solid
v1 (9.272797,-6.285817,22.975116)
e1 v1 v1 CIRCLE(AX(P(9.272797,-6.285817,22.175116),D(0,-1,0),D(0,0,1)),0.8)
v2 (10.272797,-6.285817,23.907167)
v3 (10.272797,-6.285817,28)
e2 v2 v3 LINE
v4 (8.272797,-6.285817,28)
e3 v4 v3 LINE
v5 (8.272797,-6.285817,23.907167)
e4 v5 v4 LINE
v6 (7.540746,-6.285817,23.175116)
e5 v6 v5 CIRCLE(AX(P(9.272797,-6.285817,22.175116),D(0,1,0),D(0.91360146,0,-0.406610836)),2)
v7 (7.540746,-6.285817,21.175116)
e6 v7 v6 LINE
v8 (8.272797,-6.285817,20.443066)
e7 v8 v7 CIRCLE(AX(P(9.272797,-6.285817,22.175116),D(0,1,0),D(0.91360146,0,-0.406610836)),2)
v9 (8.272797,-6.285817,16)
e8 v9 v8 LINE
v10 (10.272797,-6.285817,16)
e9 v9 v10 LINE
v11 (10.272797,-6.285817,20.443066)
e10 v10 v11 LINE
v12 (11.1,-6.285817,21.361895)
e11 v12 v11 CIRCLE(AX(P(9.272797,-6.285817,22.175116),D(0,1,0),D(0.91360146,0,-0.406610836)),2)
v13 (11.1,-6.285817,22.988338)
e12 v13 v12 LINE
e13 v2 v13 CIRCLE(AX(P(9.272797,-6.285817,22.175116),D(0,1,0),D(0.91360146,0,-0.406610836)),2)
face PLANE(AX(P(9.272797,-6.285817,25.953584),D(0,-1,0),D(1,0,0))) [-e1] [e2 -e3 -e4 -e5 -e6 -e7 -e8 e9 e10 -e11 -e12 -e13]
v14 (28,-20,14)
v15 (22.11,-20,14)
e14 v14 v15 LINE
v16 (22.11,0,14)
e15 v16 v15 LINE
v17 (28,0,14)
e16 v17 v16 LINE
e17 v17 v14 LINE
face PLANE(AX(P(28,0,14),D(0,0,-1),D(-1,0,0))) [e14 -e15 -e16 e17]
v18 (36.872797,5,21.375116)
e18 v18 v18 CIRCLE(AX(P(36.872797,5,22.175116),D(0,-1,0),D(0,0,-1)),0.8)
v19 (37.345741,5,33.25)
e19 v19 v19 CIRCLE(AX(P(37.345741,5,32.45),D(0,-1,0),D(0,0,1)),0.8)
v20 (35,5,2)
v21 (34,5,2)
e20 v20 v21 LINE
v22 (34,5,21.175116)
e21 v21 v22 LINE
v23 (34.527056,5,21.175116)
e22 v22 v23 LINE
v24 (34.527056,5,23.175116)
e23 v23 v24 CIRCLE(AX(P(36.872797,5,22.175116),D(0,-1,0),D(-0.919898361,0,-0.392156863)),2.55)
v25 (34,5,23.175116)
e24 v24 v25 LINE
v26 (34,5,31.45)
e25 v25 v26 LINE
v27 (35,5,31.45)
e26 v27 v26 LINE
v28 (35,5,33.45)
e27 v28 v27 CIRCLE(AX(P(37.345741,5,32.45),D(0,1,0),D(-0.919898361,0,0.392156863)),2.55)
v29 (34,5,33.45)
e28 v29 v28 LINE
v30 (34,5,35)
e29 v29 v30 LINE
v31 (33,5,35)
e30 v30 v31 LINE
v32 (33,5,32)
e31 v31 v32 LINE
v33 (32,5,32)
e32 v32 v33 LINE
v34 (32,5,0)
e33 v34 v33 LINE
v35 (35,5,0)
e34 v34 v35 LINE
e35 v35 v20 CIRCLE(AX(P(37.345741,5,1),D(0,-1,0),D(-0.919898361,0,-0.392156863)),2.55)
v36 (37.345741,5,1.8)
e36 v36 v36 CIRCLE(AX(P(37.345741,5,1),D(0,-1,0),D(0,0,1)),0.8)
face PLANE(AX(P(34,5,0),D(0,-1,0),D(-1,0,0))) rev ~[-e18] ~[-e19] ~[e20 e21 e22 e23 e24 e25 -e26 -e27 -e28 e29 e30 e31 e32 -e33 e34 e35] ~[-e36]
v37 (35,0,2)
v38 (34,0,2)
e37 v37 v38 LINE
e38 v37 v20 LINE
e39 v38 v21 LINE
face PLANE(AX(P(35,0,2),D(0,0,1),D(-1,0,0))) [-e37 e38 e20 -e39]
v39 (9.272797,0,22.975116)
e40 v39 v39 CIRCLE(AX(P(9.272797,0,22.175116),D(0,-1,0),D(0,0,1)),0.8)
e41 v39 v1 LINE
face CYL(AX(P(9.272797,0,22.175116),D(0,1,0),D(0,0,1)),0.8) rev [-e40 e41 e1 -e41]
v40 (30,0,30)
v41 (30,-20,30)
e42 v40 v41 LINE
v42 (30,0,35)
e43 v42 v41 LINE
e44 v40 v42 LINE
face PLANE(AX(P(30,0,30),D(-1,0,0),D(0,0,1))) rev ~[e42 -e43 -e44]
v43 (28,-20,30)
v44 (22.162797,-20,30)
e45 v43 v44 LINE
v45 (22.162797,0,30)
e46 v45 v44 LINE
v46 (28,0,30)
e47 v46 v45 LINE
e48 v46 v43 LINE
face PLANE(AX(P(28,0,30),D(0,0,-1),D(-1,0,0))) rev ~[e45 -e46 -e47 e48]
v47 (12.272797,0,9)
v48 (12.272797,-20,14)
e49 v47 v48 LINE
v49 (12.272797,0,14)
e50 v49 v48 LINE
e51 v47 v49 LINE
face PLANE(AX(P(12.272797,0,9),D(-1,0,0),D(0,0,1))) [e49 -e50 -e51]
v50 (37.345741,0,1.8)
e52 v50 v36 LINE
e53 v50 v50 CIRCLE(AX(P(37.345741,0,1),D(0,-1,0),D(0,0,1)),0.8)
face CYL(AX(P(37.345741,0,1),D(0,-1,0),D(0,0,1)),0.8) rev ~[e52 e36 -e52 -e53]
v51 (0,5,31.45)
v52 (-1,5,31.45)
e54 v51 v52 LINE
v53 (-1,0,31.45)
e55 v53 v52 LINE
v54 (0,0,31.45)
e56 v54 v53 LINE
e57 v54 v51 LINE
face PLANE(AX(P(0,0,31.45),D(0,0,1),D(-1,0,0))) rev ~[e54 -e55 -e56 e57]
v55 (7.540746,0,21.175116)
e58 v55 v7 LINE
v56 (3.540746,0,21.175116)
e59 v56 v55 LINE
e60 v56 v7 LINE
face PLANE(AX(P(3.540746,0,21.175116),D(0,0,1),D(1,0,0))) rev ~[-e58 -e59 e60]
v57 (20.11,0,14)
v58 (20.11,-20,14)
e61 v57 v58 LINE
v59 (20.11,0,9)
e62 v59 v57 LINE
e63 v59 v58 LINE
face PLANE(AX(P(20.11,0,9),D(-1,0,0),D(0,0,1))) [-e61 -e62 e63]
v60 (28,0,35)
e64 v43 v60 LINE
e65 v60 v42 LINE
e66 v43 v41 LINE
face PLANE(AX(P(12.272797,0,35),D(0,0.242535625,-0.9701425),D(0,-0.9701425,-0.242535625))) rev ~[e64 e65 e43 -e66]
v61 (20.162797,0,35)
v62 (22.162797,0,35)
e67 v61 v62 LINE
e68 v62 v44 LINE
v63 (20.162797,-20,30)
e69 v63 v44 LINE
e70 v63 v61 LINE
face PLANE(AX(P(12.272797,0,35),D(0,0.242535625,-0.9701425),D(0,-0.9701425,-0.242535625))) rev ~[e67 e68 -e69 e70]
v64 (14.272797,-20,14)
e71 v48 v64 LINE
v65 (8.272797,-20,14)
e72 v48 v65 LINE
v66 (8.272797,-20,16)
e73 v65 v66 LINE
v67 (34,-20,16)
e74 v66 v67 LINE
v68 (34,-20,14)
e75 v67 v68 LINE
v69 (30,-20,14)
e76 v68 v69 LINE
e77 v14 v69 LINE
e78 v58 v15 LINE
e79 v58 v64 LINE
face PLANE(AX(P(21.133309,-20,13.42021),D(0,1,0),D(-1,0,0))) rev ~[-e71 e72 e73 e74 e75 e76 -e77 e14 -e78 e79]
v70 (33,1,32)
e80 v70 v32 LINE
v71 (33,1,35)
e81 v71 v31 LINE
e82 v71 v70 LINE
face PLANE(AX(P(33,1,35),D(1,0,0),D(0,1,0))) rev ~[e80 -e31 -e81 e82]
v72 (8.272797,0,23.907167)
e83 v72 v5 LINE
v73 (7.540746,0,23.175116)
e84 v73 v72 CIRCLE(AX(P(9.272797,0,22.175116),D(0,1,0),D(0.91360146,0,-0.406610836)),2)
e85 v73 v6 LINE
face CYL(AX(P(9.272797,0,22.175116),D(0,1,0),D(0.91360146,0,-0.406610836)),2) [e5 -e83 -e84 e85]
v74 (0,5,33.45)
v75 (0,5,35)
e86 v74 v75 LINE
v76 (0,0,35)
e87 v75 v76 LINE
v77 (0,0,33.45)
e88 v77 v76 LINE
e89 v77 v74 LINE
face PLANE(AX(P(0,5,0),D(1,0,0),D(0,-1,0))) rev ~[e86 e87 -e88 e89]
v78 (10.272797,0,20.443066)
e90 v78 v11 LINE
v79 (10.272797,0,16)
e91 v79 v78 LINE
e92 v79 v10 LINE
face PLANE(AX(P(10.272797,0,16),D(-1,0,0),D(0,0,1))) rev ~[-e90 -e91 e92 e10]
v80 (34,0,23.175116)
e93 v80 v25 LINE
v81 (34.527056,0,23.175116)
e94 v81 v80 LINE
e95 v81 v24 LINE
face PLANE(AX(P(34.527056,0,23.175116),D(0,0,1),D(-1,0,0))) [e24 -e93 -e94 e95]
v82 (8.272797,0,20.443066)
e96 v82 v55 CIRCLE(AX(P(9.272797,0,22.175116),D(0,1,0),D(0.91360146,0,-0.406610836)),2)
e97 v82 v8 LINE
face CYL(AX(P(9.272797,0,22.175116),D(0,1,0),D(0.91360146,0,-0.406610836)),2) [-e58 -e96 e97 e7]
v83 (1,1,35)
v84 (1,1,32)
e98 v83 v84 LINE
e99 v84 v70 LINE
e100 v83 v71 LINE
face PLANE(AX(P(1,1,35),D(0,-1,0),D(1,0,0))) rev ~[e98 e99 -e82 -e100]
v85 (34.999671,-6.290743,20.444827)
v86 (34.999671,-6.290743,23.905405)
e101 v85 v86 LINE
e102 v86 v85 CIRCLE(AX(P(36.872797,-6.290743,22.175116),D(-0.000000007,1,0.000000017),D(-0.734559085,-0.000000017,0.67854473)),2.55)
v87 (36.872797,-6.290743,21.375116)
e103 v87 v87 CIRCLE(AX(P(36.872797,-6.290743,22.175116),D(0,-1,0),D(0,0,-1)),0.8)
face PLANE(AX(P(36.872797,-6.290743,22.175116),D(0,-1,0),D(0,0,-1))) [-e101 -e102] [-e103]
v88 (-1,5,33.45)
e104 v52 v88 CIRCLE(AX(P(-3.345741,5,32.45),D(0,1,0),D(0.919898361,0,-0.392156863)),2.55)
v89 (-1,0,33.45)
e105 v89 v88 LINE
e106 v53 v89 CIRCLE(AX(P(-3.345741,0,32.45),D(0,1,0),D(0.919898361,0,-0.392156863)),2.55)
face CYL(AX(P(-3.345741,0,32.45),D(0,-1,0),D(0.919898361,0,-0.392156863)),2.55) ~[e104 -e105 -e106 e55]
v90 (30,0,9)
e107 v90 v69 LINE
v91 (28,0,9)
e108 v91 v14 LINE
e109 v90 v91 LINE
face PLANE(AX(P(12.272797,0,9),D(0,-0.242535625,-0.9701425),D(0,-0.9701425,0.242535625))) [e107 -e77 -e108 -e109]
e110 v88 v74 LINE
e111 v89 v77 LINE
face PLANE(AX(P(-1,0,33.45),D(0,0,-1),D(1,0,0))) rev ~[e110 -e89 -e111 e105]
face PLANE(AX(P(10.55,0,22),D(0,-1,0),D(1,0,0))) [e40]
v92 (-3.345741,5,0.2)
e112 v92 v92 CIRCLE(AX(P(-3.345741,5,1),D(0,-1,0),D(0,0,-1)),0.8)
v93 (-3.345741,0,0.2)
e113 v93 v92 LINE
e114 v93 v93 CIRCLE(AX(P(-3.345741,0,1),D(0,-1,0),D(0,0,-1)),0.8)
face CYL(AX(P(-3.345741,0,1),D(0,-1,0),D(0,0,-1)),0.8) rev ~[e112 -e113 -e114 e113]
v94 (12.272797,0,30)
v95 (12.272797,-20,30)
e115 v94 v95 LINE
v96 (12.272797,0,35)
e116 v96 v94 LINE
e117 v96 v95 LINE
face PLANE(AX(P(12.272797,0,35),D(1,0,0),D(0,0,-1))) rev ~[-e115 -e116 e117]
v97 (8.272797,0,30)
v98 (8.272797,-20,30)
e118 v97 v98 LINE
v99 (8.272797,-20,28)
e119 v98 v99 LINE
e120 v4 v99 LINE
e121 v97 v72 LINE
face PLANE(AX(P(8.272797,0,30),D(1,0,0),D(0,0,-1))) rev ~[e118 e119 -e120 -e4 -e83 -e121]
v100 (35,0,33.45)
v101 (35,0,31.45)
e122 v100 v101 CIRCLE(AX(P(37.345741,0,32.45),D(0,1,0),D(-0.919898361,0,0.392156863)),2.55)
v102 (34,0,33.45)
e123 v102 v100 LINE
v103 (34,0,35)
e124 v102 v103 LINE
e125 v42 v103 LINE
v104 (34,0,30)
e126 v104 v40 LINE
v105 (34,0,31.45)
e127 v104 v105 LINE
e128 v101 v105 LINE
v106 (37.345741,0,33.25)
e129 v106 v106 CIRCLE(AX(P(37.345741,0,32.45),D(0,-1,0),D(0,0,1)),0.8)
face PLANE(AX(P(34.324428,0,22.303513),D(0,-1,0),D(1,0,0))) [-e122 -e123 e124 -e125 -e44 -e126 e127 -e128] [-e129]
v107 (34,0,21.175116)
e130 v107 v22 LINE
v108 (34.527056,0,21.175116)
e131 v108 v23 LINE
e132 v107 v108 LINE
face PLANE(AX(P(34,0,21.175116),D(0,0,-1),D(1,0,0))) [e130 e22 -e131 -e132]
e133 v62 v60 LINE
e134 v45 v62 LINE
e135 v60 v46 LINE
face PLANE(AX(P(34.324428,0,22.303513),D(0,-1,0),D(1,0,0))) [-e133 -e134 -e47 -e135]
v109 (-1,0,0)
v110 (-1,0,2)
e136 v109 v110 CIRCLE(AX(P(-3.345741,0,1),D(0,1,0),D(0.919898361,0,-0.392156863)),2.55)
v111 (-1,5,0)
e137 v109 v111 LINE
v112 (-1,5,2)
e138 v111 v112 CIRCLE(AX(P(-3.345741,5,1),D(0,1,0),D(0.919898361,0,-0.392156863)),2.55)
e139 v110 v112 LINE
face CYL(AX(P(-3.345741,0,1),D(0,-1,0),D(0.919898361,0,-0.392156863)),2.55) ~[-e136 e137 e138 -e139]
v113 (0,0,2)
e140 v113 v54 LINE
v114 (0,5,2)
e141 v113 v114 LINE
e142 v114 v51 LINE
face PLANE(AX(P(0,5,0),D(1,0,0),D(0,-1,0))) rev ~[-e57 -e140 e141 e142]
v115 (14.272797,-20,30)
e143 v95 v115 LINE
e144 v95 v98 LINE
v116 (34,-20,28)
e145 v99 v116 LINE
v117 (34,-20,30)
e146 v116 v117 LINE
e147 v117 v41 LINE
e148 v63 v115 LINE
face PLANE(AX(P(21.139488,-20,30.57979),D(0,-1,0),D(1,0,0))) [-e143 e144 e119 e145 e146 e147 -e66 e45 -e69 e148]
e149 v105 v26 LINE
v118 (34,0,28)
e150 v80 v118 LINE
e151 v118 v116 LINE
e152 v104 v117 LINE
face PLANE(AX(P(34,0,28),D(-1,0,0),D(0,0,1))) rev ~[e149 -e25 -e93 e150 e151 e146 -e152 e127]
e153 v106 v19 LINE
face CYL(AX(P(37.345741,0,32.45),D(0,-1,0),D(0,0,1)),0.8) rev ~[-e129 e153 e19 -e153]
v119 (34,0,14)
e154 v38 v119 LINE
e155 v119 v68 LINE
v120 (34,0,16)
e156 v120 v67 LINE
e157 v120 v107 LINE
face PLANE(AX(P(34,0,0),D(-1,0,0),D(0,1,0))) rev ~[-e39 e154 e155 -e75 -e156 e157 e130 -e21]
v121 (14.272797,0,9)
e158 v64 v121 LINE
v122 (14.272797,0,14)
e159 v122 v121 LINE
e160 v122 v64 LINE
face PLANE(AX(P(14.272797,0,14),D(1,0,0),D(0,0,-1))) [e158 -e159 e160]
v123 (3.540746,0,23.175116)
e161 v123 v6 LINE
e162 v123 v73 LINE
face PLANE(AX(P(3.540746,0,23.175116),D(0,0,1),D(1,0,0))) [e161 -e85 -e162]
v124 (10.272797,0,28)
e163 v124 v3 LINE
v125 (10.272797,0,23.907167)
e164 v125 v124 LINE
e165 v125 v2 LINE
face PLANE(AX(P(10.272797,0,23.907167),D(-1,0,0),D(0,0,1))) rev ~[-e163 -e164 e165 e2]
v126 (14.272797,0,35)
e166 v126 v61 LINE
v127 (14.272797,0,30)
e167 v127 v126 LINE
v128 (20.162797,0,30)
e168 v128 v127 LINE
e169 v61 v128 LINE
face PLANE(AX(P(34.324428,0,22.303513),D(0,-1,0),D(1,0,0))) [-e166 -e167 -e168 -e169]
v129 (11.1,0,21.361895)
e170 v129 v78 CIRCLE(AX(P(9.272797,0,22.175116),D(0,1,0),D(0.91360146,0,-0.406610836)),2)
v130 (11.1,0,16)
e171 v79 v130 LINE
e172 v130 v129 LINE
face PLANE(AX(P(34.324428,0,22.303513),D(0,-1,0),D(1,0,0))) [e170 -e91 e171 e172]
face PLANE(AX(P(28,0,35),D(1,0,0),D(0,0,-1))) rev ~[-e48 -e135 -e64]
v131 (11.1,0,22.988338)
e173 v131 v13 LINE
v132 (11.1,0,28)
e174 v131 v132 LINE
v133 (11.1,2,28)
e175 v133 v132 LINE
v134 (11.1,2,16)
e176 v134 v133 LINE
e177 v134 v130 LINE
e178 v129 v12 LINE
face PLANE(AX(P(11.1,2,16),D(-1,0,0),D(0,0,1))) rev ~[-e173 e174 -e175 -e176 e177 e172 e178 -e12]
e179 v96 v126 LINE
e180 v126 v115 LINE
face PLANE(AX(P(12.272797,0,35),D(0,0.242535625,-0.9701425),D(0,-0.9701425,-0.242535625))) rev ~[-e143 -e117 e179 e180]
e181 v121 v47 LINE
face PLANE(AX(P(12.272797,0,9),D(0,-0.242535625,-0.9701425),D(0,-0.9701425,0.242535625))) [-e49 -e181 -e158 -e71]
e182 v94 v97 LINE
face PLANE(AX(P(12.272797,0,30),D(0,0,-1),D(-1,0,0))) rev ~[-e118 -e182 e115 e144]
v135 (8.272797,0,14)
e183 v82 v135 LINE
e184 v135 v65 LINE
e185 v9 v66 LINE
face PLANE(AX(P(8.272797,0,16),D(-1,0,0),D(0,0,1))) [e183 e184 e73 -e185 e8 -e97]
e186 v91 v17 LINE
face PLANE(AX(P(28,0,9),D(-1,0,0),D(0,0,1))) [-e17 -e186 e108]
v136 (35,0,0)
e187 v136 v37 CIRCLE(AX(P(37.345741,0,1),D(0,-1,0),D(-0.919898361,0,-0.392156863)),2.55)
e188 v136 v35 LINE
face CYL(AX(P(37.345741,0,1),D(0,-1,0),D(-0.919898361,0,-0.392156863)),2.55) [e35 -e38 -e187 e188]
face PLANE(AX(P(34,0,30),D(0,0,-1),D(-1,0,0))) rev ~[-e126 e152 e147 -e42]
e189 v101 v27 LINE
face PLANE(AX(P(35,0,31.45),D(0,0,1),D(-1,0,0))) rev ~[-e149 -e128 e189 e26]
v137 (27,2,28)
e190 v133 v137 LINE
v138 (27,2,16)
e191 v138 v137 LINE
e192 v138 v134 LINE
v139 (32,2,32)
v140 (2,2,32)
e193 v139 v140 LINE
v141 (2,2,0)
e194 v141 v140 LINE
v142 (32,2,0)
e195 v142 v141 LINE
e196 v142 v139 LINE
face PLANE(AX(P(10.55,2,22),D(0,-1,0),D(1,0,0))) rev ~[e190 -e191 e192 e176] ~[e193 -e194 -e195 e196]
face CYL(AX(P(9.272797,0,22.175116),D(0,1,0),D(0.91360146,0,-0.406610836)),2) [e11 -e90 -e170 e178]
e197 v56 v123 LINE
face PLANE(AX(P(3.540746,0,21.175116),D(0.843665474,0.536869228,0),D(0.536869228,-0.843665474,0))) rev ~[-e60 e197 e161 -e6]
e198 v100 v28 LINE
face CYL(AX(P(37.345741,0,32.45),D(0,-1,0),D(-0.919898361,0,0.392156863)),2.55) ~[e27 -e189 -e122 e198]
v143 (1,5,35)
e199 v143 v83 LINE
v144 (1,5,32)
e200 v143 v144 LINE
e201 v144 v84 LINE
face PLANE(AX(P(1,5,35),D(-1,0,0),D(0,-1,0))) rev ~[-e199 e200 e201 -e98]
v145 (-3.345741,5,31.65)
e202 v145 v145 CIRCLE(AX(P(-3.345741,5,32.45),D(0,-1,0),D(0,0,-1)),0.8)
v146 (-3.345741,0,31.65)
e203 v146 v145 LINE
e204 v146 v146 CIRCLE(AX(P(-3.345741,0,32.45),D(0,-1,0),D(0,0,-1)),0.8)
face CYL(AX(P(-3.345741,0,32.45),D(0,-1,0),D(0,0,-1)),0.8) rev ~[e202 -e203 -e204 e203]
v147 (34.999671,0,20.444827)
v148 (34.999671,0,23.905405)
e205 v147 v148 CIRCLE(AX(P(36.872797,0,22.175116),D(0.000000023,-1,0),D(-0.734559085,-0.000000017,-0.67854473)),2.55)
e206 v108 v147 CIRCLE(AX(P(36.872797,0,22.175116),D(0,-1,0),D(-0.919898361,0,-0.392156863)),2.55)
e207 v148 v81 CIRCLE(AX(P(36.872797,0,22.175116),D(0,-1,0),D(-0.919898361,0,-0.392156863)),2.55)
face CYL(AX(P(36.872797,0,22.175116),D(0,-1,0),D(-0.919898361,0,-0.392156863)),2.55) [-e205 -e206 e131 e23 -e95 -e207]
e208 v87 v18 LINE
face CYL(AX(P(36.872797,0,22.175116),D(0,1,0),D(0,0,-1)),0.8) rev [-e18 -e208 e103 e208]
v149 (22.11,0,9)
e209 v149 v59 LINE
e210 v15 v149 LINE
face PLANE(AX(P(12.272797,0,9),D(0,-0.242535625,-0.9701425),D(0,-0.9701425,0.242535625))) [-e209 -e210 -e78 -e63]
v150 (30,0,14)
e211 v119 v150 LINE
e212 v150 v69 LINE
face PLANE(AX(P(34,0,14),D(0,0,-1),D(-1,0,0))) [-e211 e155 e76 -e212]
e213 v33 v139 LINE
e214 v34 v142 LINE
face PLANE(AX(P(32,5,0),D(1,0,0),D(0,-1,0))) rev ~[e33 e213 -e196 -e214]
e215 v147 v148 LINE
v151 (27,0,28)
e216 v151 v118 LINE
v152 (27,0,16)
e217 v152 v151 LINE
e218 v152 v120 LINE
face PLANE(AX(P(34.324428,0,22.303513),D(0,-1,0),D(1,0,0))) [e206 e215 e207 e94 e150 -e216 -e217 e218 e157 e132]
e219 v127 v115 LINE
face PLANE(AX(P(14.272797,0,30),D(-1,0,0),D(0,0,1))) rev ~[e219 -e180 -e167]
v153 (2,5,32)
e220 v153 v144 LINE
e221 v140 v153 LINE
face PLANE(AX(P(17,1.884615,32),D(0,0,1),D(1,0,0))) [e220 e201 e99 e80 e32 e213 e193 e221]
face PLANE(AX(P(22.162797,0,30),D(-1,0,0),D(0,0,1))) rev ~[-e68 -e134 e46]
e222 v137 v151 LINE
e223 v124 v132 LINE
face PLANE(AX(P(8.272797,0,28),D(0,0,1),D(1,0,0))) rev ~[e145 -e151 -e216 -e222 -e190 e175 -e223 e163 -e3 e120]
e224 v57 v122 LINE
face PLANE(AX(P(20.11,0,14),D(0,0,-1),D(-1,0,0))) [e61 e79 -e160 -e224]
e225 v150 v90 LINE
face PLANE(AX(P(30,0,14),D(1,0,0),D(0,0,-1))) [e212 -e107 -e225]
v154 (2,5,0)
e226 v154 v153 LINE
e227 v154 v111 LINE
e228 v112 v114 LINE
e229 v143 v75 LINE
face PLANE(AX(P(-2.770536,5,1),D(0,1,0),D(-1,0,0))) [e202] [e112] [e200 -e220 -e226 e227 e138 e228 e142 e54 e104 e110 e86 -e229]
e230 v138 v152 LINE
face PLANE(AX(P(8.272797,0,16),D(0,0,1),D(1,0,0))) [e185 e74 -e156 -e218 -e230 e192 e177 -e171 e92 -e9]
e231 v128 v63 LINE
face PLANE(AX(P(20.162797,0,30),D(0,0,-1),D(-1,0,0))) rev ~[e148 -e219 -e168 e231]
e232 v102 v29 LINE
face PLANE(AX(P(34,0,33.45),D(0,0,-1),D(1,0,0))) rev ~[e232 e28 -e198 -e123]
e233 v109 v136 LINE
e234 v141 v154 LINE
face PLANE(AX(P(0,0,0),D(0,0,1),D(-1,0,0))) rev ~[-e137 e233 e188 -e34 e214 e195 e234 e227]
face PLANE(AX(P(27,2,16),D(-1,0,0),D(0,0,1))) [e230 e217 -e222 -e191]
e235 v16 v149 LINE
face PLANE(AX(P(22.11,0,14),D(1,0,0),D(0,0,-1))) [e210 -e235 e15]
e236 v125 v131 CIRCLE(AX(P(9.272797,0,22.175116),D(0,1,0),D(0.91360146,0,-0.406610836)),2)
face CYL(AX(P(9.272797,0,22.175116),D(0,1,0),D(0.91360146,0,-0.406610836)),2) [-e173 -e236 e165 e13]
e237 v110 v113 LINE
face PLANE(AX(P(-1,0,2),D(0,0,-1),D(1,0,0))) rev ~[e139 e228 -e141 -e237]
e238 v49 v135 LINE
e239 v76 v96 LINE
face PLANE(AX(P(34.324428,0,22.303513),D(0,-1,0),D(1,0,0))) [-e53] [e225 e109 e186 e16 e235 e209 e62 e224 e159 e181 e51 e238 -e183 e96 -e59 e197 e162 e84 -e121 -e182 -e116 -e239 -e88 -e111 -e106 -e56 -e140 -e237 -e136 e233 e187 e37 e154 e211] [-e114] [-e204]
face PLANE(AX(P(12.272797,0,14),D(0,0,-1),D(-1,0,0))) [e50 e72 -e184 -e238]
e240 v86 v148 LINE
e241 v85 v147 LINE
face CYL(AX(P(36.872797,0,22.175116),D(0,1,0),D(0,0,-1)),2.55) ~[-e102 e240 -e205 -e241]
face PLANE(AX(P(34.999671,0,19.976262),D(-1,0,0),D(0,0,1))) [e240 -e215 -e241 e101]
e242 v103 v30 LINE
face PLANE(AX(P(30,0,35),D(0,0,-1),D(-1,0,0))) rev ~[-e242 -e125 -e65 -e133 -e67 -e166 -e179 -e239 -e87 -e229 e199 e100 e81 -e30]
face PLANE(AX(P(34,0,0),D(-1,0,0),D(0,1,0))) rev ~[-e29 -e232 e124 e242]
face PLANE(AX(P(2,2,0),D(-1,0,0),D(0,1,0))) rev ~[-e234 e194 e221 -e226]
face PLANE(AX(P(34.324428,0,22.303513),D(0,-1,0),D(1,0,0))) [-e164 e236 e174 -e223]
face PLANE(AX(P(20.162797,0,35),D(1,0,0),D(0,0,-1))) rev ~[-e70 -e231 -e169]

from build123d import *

# Parameters (mm, degrees)
BOSS_EXTRU_1_DEPTH       = 35
ENL_V_MAT_EXTRU_1_DEPTH  = 3
ENL_V_START              = -2
ESQUISSE3_W              = 14
ESQUISSE3_H              = 12
ENL_V_MAT_EXTRU_2_DEPTH  = 2
ESQUISSE7_W              = 3
ESQUISSE7_H              = 12
ENL_V_MAT_EXTRU_4_DEPTH  = 2
BOSS_EXTRU_4_START       = -2
ESQUISSE9_W              = 1.1
ESQUISSE9_H              = 12
BOSS_EXTRU_4_DEPTH       = 2
ESQUISSE10_R             = 0.8
BOSS_EXTRU_5_DEPTH       = 6.285817
ESQUISSE19_W             = 2
ESQUISSE19_H             = 4.092832792
ESQUISSE19_H_2           = 4.443065592
ESQUISSE19_W_2           = 4
ESQUISSE19_H_3           = 2
BOSS_EXTRU_8_DEPTH       = 6.285817
ENL_V_MAT_EXTRU_9_DEPTH  = 2
ESQUISSE25_R             = 0.8
BOSS_EXTRU_10_DEPTH      = 5
ESQUISSE26_R             = 0.8
BOSS_EXTRU_11_DEPTH      = 5
ESQUISSE27_R             = 0.8
BOSS_EXTRU_12_DEPTH      = 5
ESQUISSE28_R             = 2.55
ESQUISSE28_R_2           = 0.8
BOSS_EXTRU_13_DEPTH      = 6.290743
ENL_V_START_2            = -6.290743
ESQUISSE29_W             = 1.350487441
ESQUISSE29_H             = 4.654500935
ENL_V_MAT_EXTRU_11_DEPTH = 6.290743
BOSS_EXTRU_14_DEPTH      = 20
ENL_V_START_3            = -17.727203
ENL_V_MAT_EXTRU_12_DEPTH = 17.727203


with BuildPart() as part:
    # Esquisse1 → Boss.-Extru.1 (new body)
    with BuildSketch(Plane.XY):
        Polygon((0, 0), (34, 0), (34, 5), (32, 5), (32, 2), (2, 2), (2, 5), (0, 5), align=None)
    extrude(amount=BOSS_EXTRU_1_DEPTH)

    # Esquisse2 → Enl_v. mat.-Extru.1 (cut)
    with BuildSketch(Plane.XY.offset(35)):
        Polygon((2, 5), (1, 5), (1, 1), (33, 1), (33, 5), (32, 5), (32, 2), (2, 2), align=None)
    extrude(amount=-ENL_V_MAT_EXTRU_1_DEPTH, mode=Mode.SUBTRACT)

    # Esquisse3 → Enl_v. mat.-Extru.2 (cut)
    with BuildSketch(Plane(origin=(0, 2, 0), x_dir=(1, 0, 0), z_dir=(0, 1, 0)).offset(ENL_V_START)):
        with Locations((17, -22)):
            Rectangle(ESQUISSE3_W, ESQUISSE3_H)
    extrude(amount=ENL_V_MAT_EXTRU_2_DEPTH, mode=Mode.SUBTRACT)

    # Esquisse7 → Enl_v. mat.-Extru.4 (cut)
    with BuildSketch(Plane.XZ.offset(ENL_V_START)):
        with Locations((25.5, 22)):
            Rectangle(ESQUISSE7_W, ESQUISSE7_H)
    extrude(amount=ENL_V_MAT_EXTRU_4_DEPTH, mode=Mode.SUBTRACT)

    # Esquisse9 → Boss.-Extru.4 (add)
    with BuildSketch(Plane.XZ.offset(BOSS_EXTRU_4_START)):
        with Locations((10.55, 22)):
            Rectangle(ESQUISSE9_W, ESQUISSE9_H)
    extrude(amount=BOSS_EXTRU_4_DEPTH)

    # Esquisse10 → Boss.-Extru.5 (add)
    with BuildSketch(Plane.XZ):
        with BuildLine():
            Line((11.1, 22.988338073), (11.1, 21.361894727))
            ThreePointArc((11.1, 21.361894727), (7.27279708, 22.1751164), (11.1, 22.988338073))
        make_face()
        with Locations(Location((9.27279708, 22.1751164, 0), (0, 0, 90))):
            Circle(ESQUISSE10_R, mode=Mode.SUBTRACT)
    extrude(amount=BOSS_EXTRU_5_DEPTH)

    # Esquisse19 → Boss.-Extru.8 (add)
    with BuildSketch(Plane.XZ):
        with Locations((9.27279708, 25.953583604)):
            Rectangle(ESQUISSE19_W, ESQUISSE19_H)
        with Locations((9.27279708, 18.221532796)):
            Rectangle(ESQUISSE19_W, ESQUISSE19_H_2)
        with Locations((5.540746272, 22.1751164)):
            Rectangle(ESQUISSE19_W_2, ESQUISSE19_H_3)
    extrude(amount=BOSS_EXTRU_8_DEPTH)

    # Esquisse21 → Enl_v. mat.-Extru.9 (cut)
    with BuildSketch(Plane(origin=(0, 0, 21.1751164), x_dir=(-1, 0, 0), z_dir=(0, 0, -1))):
        Polygon((-3.540746272, 0), (-7.540746272, -6.285817331), (-3.540746272, -6.285817331), align=None)
    extrude(amount=-ENL_V_MAT_EXTRU_9_DEPTH, mode=Mode.SUBTRACT)

    # Esquisse25 → Boss.-Extru.10 (add)
    with BuildSketch(Plane.XZ):
        with BuildLine():
            Line((0, 31.45), (-1, 31.45))
            ThreePointArc((-1, 31.45), (-5.895740821, 32.45), (-1, 33.45))
            Line((-1, 33.45), (0, 33.45))
            Line((0, 33.45), (0, 31.45))
        make_face()
        with Locations(Location((-3.345740821, 32.45, 0), (0, 0, 270))):
            Circle(ESQUISSE25_R, mode=Mode.SUBTRACT)
        with BuildLine():
            Line((34, 33.45), (35, 33.45))
            ThreePointArc((35, 33.45), (39.895740821, 32.45), (35, 31.45))
            Line((35, 31.45), (34, 31.45))
            Line((34, 31.45), (34, 33.45))
        make_face()
        with Locations(Location((37.345740821, 32.45, 0), (0, 0, 90))):
            Circle(ESQUISSE25_R, mode=Mode.SUBTRACT)
    extrude(amount=-BOSS_EXTRU_10_DEPTH)

    # Esquisse26 → Boss.-Extru.11 (add)
    with BuildSketch(Plane.XZ):
        with BuildLine():
            Line((-1, 2), (0, 2))
            Line((0, 2), (0, 0))
            Line((0, 0), (-1, 0))
            ThreePointArc((-1, 0), (-5.895740821, 1), (-1, 2))
        make_face()
        with Locations(Location((-3.345740821, 1, 0), (0, 0, 270))):
            Circle(ESQUISSE26_R, mode=Mode.SUBTRACT)
        with BuildLine():
            Line((34, 2), (34, 0))
            Line((34, 0), (35, 0))
            ThreePointArc((35, 0), (39.895740821, 1), (35, 2))
            Line((35, 2), (34, 2))
        make_face()
        with Locations(Location((37.345740821, 1, 0), (0, 0, 90))):
            Circle(ESQUISSE26_R, mode=Mode.SUBTRACT)
    extrude(amount=-BOSS_EXTRU_11_DEPTH)

    # Esquisse27 → Boss.-Extru.12 (add)
    with BuildSketch(Plane(origin=(0, 0, 0), x_dir=(-1, 0, 0), z_dir=(0, -1, 0))):
        with BuildLine():
            Line((-34, -21.1751164), (-34.527056259, -21.1751164))
            ThreePointArc((-34.527056259, -21.1751164), (-39.42279708, -22.1751164), (-34.527056259, -23.1751164))
            Line((-34.527056259, -23.1751164), (-34, -23.1751164))
            Line((-34, -23.1751164), (-34, -21.1751164))
        make_face()
        with Locations(Location((-36.87279708, -22.1751164, 0), (0, 0, 90))):
            Circle(ESQUISSE27_R, mode=Mode.SUBTRACT)
    extrude(amount=-BOSS_EXTRU_12_DEPTH)

    # Esquisse28 → Boss.-Extru.13 (add)
    with BuildSketch(Plane.XZ):
        with Locations(Location((36.87279708, 22.1751164, 0), (0, 0, 270))):
            Circle(ESQUISSE28_R)
        with Locations(Location((36.87279708, 22.1751164, 0), (0, 0, 270))):
            Circle(ESQUISSE28_R_2, mode=Mode.SUBTRACT)
    extrude(amount=BOSS_EXTRU_13_DEPTH)

    # Esquisse29 → Enl_v. mat.-Extru.11 (cut)
    with BuildSketch(Plane.XZ.offset(6.290743087).offset(ENL_V_START_2)):
        with Locations((34.324427693, 22.303512705)):
            Rectangle(ESQUISSE29_W, ESQUISSE29_H)
    extrude(amount=ENL_V_MAT_EXTRU_11_DEPTH, mode=Mode.SUBTRACT)

    # Esquisse30 → Boss.-Extru.14 (add)
    with BuildSketch(Plane.XZ):
        Polygon((8.27279708, 28), (34, 28), (34, 30), (30, 30), (30, 35), (28, 35), (28, 30), (22.16279708, 30), (22.16279708, 35), (20.16279708, 35), (20.16279708, 30), (14.27279708, 30), (14.27279708, 35), (12.27279708, 35), (12.27279708, 30), (8.27279708, 30), align=None)
        Polygon((8.27279708, 16), (34, 16), (34, 14), (30, 14), (30, 9), (28, 9), (28, 14), (22.11, 14), (22.11, 9), (20.11, 9), (20.11, 14), (14.27279708, 14), (14.27279708, 9), (12.27279708, 9), (12.27279708, 14), (8.27279708, 14), align=None)
    extrude(amount=BOSS_EXTRU_14_DEPTH)

    # Esquisse31 → Enl_v. mat.-Extru.12 (cut)
    with BuildSketch(Plane(origin=(30, 0, 0), x_dir=(0, 0, -1), z_dir=(1, 0, 0)).offset(ENL_V_START_3)):
        Polygon((-35, 0), (-30, -20), (-35, -20), align=None)
        Polygon((-9, 0), (-14, -20), (-9, -20), align=None)
    extrude(amount=ENL_V_MAT_EXTRU_12_DEPTH, mode=Mode.SUBTRACT)


solid = part.part
